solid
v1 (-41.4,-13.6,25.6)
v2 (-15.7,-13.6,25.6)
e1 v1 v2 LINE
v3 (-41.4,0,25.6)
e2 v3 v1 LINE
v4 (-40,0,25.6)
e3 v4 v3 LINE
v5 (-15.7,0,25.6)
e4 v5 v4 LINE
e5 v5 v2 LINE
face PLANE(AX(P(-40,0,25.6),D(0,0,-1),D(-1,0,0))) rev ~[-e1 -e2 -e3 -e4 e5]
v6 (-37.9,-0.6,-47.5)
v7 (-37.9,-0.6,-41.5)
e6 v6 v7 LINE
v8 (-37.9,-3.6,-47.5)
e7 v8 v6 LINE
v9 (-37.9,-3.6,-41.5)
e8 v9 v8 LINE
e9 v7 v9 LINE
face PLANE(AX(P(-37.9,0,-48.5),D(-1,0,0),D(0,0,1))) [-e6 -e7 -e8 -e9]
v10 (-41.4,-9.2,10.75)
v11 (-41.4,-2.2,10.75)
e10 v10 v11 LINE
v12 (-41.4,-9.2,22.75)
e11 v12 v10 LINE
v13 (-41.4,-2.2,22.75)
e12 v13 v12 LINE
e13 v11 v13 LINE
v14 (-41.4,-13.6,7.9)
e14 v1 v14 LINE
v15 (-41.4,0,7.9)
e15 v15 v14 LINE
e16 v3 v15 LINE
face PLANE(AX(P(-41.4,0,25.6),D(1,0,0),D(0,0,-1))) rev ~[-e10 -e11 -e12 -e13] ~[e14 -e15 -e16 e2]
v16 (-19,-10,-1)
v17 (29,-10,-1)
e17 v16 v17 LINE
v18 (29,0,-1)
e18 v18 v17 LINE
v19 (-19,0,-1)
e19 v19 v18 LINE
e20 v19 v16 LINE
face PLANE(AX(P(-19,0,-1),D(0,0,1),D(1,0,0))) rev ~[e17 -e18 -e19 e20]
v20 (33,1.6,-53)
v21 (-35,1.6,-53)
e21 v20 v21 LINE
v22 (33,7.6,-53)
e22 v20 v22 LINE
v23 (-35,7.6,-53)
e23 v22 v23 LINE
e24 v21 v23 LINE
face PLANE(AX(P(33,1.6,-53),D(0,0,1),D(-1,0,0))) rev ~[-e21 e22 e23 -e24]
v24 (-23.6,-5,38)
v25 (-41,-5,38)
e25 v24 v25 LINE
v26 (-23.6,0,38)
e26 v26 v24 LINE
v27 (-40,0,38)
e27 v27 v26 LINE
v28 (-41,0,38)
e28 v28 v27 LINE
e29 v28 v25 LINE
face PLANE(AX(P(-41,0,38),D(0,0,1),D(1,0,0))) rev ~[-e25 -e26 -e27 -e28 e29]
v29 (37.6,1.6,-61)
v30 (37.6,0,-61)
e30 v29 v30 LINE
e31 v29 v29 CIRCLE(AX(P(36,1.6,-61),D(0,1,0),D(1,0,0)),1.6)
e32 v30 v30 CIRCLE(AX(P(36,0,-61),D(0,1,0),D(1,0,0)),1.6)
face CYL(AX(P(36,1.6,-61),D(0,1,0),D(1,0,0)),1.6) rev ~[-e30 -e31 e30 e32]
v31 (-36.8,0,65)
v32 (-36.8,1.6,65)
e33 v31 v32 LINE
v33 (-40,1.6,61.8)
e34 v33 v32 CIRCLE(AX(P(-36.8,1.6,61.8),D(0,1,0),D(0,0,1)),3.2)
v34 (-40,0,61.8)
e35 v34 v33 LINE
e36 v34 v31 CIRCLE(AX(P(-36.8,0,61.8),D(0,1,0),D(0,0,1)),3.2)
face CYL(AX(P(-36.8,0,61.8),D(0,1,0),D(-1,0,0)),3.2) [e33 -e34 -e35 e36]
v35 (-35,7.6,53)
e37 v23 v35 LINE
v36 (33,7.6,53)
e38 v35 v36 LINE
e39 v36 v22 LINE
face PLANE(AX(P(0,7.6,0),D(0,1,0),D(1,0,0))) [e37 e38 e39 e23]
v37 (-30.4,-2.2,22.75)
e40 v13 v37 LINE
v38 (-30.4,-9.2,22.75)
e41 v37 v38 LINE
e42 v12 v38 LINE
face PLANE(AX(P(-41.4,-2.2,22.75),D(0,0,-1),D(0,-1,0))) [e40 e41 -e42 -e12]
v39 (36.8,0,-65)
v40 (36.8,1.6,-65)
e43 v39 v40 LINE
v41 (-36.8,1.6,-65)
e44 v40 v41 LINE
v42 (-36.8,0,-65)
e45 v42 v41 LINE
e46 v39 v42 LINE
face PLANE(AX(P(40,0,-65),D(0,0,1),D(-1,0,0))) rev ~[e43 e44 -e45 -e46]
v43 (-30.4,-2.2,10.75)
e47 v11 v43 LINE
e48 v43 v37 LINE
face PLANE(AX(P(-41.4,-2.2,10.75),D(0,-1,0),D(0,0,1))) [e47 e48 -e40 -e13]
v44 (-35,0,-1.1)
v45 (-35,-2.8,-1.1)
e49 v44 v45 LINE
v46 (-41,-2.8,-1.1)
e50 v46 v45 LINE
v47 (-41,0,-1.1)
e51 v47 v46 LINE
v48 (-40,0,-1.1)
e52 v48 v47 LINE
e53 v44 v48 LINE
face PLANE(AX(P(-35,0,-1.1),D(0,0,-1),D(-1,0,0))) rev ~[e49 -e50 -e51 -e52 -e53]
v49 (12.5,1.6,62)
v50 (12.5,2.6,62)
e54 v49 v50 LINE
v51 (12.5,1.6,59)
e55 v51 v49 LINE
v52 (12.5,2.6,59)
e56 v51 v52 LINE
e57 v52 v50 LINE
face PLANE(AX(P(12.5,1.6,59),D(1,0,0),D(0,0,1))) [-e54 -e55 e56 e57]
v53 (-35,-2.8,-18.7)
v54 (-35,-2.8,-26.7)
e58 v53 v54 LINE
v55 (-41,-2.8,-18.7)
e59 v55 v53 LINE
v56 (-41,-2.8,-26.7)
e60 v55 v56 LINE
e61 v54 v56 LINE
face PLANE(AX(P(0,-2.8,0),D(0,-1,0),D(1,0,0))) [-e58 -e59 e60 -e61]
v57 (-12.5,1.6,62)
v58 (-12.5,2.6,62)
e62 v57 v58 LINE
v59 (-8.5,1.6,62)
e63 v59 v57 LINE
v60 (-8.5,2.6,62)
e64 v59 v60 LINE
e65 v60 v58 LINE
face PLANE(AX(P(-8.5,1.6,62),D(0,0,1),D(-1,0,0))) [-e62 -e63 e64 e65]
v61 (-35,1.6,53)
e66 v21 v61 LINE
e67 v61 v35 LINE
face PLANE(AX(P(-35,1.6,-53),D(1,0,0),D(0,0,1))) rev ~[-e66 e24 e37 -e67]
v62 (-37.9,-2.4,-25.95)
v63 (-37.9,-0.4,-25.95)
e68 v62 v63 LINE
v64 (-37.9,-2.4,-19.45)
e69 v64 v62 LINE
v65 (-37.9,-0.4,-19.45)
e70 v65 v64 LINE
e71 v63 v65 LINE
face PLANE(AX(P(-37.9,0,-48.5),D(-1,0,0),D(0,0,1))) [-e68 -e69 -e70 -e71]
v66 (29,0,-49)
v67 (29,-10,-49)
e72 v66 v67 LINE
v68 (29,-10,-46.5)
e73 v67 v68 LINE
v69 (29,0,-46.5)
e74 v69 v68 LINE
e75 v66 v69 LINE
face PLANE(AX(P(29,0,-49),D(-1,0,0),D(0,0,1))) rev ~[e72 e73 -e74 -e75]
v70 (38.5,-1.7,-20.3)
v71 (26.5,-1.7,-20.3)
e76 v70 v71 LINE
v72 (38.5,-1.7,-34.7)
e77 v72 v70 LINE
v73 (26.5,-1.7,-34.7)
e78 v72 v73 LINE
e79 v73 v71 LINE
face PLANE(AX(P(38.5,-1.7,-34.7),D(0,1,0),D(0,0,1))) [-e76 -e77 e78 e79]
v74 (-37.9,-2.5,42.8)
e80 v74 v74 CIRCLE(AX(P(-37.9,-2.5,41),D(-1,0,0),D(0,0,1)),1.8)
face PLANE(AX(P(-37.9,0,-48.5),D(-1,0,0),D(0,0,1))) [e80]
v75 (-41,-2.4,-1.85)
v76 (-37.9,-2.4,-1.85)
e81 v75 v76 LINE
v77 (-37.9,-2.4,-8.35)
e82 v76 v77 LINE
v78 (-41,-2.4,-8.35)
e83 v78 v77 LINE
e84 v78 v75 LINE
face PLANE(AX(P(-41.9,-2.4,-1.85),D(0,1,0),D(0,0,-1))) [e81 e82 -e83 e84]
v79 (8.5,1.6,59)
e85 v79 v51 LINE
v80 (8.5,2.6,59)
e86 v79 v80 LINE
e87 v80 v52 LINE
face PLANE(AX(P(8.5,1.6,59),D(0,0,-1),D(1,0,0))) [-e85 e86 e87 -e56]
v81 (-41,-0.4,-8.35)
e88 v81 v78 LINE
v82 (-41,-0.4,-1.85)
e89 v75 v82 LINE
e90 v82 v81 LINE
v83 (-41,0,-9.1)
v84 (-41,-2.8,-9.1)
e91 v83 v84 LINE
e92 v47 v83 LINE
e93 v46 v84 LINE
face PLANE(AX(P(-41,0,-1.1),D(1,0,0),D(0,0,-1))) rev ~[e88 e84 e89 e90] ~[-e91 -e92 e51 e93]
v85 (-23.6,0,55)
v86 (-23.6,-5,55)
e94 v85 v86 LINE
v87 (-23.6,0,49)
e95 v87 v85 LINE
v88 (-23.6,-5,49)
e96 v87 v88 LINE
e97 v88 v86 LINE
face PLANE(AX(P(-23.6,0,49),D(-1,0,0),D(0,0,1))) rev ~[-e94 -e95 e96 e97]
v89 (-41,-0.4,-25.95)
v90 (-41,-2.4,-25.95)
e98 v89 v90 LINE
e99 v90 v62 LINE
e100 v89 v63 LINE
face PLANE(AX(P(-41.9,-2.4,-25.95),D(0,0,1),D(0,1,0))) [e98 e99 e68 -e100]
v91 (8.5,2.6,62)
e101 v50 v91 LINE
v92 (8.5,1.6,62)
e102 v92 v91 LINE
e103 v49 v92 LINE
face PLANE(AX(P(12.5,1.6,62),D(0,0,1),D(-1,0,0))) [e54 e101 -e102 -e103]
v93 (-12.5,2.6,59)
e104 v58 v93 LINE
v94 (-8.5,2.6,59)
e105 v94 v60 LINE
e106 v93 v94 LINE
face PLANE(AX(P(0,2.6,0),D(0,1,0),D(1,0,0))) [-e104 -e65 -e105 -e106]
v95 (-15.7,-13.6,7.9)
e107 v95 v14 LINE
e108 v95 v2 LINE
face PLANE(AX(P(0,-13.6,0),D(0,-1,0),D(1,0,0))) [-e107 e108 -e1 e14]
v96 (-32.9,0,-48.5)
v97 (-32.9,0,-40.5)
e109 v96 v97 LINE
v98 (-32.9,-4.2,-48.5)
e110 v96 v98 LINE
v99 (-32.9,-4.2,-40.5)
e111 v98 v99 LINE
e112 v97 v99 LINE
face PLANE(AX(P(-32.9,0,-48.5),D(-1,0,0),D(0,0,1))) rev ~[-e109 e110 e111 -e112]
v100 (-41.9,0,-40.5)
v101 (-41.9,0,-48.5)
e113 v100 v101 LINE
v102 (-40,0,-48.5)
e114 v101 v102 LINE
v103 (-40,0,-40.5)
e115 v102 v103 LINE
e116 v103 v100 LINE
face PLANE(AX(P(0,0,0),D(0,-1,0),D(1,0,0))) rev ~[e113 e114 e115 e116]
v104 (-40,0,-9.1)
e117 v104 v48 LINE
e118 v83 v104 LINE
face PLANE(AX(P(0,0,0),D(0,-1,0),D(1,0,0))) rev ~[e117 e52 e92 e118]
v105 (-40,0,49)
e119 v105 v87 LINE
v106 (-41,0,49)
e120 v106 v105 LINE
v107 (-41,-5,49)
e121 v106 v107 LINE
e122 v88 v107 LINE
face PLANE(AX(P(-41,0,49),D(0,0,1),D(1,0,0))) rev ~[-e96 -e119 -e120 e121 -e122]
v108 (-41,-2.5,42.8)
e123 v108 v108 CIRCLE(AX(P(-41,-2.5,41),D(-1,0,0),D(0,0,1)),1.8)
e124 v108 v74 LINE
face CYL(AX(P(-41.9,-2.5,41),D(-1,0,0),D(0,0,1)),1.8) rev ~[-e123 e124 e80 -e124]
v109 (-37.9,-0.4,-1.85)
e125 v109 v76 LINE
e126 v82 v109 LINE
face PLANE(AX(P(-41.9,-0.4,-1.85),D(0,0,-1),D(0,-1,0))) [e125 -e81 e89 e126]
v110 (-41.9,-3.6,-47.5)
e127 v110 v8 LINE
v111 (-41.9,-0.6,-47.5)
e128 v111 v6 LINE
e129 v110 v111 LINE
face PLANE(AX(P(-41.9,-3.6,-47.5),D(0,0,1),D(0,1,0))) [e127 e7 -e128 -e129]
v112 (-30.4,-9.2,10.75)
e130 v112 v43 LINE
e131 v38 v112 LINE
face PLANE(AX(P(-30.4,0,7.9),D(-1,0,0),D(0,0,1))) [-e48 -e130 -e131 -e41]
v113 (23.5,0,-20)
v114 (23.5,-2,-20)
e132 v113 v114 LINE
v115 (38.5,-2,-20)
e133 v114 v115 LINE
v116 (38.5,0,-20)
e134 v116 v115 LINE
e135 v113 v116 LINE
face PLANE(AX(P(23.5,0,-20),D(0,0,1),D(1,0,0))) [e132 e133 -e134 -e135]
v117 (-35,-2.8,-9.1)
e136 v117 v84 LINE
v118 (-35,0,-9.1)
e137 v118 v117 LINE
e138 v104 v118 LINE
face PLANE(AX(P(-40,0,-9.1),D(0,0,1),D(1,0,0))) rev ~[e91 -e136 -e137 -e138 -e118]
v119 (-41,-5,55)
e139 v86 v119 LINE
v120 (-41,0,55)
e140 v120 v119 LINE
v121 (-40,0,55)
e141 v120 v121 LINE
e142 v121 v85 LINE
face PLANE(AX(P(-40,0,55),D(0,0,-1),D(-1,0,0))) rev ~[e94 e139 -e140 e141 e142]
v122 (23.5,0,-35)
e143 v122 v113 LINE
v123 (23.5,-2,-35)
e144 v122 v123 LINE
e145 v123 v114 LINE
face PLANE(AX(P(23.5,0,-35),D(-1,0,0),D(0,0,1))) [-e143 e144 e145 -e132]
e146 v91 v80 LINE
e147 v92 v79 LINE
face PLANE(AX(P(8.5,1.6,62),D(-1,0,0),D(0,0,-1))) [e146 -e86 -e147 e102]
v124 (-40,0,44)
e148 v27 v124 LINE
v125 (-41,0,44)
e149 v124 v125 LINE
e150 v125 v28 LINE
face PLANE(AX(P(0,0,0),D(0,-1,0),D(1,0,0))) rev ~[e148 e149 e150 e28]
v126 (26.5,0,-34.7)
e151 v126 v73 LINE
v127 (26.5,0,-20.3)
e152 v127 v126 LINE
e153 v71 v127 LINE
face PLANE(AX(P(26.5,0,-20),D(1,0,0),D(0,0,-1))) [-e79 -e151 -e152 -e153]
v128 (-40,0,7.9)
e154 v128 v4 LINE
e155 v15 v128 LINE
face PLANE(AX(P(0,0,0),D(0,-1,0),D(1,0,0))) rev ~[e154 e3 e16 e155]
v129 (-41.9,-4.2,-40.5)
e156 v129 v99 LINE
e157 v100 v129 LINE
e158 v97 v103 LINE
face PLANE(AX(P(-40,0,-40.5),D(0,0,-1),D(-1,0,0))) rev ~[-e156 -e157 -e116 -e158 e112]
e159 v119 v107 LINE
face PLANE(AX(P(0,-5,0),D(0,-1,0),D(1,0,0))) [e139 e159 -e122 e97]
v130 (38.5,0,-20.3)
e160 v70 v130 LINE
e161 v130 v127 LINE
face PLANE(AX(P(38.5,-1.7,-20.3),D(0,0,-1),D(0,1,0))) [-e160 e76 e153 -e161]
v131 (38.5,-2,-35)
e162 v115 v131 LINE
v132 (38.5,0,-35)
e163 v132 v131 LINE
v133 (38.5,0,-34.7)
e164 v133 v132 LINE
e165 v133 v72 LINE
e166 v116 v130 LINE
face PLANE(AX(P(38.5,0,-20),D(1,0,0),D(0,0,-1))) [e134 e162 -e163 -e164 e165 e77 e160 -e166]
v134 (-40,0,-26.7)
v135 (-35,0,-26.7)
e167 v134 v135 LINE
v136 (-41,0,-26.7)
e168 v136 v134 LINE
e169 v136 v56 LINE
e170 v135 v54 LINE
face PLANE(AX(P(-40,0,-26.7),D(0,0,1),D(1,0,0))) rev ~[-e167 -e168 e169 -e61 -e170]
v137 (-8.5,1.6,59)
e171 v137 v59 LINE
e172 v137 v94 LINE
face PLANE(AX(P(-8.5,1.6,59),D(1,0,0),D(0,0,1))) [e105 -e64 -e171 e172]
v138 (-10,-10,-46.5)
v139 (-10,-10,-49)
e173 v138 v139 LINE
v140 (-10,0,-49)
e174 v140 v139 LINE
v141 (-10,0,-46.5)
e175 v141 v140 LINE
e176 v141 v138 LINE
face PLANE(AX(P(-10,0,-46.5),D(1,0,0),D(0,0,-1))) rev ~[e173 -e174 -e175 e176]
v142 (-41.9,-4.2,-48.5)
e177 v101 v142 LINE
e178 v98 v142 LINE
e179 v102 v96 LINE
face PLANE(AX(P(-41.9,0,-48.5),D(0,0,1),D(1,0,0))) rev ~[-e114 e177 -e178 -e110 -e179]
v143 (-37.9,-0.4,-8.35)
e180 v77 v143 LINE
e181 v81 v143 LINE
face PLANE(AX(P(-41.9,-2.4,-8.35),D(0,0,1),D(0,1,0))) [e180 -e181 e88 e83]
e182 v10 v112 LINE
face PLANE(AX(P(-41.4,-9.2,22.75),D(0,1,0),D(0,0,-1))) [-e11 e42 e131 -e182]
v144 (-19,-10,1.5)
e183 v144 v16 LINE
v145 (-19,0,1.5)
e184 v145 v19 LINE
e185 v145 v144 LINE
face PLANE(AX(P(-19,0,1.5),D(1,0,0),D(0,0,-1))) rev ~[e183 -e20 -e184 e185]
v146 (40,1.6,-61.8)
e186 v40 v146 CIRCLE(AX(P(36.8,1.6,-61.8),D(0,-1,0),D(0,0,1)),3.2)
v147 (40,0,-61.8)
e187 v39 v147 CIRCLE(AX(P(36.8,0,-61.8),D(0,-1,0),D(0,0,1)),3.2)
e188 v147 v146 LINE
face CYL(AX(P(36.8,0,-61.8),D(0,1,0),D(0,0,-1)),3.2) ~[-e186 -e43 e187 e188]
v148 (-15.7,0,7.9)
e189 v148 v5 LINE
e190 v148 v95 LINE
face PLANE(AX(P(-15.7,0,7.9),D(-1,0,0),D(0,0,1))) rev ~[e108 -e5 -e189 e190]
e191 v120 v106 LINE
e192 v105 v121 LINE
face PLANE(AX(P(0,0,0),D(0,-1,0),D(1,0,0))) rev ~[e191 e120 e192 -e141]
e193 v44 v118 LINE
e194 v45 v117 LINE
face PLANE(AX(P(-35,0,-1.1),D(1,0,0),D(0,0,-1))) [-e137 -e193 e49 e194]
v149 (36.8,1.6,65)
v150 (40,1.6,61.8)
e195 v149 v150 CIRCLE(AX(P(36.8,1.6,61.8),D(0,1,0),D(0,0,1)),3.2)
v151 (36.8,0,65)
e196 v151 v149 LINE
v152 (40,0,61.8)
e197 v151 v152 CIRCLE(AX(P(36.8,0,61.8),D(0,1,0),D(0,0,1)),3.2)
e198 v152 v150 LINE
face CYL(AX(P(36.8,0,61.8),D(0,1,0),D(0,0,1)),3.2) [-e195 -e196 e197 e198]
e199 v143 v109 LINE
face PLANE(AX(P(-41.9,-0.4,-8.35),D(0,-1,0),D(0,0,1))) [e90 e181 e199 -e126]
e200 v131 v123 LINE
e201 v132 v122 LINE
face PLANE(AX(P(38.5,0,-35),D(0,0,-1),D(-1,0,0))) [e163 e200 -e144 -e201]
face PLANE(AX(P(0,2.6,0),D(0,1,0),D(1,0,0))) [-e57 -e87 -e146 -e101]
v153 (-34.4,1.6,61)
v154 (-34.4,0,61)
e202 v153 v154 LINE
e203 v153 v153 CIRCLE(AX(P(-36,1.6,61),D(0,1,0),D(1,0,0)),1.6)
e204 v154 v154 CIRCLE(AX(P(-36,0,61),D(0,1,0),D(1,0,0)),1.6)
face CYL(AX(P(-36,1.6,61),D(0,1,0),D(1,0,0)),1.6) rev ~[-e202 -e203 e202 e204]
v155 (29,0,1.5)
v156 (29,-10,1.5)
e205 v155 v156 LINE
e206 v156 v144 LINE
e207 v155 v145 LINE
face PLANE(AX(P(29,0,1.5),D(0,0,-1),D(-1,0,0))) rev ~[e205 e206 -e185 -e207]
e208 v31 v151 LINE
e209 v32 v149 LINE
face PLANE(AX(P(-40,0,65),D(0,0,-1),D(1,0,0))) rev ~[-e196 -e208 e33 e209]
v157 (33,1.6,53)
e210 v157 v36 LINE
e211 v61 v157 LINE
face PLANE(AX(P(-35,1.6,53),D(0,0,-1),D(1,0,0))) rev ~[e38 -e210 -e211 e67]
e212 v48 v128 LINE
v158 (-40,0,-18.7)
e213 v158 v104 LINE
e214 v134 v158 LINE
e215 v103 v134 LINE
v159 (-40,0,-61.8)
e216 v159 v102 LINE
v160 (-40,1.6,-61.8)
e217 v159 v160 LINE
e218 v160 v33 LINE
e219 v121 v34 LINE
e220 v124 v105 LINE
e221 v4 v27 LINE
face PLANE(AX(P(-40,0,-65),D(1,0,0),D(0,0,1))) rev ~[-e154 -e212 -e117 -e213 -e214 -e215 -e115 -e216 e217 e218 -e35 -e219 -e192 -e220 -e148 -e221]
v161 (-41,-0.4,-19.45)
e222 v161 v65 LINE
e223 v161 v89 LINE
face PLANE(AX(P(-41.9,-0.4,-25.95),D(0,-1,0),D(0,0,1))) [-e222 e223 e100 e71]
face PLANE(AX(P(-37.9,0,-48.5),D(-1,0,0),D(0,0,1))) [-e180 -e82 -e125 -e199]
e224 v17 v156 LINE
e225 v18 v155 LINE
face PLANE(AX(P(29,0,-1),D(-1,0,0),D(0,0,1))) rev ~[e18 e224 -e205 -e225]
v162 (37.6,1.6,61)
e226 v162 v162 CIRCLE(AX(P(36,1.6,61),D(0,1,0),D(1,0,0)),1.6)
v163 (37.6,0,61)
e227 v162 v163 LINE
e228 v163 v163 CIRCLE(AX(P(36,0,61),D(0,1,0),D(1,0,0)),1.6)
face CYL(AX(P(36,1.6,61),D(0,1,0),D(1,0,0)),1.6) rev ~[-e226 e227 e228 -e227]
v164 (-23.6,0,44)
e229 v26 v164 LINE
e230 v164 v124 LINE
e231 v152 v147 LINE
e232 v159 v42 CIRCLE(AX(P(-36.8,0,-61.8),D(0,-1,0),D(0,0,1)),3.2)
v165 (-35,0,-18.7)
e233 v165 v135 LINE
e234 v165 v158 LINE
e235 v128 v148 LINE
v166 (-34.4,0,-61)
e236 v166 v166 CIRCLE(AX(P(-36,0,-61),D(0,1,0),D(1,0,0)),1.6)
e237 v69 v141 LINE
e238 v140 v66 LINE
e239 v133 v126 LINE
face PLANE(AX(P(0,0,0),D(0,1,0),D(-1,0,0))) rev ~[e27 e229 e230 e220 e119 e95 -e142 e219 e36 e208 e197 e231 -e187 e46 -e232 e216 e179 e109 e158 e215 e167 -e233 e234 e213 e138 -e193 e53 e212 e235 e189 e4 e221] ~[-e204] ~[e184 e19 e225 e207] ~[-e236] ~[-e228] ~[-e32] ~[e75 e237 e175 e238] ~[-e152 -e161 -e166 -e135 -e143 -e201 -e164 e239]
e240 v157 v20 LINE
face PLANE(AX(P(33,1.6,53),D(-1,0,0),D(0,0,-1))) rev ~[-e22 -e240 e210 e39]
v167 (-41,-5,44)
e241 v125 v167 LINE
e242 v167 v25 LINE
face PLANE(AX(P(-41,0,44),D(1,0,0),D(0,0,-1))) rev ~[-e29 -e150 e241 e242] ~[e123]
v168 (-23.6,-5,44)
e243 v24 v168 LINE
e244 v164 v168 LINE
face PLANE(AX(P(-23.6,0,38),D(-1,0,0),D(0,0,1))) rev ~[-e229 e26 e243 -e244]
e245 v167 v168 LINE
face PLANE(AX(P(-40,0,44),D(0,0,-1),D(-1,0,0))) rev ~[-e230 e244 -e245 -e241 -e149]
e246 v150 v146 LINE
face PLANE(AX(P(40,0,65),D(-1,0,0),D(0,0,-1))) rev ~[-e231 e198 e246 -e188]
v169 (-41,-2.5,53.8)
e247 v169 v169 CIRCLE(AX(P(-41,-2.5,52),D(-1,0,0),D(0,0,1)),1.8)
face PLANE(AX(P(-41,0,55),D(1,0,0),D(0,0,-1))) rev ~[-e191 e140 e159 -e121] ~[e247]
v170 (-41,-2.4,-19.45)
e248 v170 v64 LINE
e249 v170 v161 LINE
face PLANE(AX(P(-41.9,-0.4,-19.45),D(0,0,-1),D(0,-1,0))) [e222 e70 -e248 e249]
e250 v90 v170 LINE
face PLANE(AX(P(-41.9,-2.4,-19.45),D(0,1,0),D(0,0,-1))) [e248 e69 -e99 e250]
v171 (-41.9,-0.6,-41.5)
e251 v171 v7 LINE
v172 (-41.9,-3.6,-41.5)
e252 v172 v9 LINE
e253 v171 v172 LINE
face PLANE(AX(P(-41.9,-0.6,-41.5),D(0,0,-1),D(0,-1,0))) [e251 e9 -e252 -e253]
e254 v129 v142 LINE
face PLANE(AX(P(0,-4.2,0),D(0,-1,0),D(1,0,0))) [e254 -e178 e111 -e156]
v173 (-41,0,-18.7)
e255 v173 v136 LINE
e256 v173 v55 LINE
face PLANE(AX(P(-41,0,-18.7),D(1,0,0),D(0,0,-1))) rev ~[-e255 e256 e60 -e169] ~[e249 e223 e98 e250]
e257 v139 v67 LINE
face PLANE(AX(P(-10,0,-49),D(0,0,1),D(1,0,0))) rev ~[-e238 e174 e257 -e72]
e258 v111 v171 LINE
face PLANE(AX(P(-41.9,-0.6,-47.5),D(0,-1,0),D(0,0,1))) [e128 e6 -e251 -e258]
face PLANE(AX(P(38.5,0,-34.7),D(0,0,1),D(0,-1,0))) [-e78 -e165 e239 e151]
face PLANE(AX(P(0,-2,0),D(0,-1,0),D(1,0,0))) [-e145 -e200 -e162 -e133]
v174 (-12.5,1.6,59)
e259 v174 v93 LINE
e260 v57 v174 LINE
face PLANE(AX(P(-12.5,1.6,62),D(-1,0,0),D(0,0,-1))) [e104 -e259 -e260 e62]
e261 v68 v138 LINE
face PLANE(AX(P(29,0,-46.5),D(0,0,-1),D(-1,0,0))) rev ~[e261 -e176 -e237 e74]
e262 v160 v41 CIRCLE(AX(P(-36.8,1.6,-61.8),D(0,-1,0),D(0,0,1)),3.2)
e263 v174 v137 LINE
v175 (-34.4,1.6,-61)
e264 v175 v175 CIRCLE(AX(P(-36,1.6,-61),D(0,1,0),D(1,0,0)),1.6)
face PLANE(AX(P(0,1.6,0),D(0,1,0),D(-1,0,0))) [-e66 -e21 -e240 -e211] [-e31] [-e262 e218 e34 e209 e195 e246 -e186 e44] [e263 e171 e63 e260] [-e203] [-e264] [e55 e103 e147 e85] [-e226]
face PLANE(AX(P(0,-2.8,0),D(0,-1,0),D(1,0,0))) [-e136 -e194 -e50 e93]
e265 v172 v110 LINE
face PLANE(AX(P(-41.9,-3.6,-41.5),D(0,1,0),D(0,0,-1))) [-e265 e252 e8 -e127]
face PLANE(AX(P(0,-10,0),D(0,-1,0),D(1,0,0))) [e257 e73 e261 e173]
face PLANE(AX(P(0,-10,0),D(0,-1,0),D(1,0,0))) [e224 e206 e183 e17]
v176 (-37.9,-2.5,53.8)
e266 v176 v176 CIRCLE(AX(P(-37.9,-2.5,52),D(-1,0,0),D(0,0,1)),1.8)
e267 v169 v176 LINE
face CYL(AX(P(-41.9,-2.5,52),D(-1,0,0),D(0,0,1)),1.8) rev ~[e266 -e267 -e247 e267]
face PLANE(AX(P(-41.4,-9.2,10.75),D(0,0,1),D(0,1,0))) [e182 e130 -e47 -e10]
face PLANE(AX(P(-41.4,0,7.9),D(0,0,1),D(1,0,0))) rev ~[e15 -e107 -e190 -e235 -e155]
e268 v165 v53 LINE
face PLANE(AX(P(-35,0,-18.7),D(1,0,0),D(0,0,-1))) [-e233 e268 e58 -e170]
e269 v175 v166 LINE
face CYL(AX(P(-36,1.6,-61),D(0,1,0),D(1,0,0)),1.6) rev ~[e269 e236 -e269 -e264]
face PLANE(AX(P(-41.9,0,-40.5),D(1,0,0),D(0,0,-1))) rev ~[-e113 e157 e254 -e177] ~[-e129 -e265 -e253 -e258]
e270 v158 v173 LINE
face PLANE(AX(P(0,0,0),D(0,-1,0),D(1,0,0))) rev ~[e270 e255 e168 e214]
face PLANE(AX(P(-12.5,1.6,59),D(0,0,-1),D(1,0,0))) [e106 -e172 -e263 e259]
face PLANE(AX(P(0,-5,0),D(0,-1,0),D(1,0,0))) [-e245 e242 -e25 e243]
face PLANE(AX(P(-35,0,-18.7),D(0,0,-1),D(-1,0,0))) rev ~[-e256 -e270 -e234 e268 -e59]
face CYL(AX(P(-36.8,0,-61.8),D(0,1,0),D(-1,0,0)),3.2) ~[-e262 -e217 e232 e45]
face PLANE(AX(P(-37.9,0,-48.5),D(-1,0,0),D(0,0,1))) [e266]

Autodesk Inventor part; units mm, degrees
ref_plane "YZ Plane" through (0, 0, 0) normal (1, 0, 0) x (0, 1, 0)
ref_plane "XZ Plane" through (0, 0, 0) normal (0, 1, 0) x (-1, 0, 0)
ref_plane "XY Plane" through (0, 0, 0) normal (0, 0, 1) x (1, 0, 0)
sketch "Esquisse1" plane through (0, 0, 0) normal (0, 1, 0) x (-1, 0, 0)
  line L0 (40, 65) -> (-40, 65)
  line L1 (-40, 65) -> (-40, -65)
  line L2 (-40, -65) -> (40, -65)
  line L3 (40, -65) -> (40, 65)
  point P0 (0, 0)
  dimension "d0" = 130
  dimension "d1" = 80
  dimension "d2" = 40
  dimension "d3" = 65
extrude "Extrusion1" add sketch "Esquisse1" along normal blind 1.6
sketch "Esquisse2" plane through (0, 1.6, 0) normal (0, 1, 0) x (1, 0, 0)
  circle A0 centre (-36, -61) radius 1.6
  circle A1 centre (-36, 61) radius 1.6
  circle A2 centre (36, 61) radius 1.6
  circle A3 centre (36, -61) radius 1.6
  point P0 (0, 0)
  dimension "d6" = 3.2
  dimension "d7" = 3.2
  dimension "d8" = 3.2
  dimension "d9" = 3.2
  dimension "d10" = 122
  dimension "d11" = 122
  dimension "d12" = 72
  dimension "d13" = 72
  dimension "d14" = 61
  dimension "d15" = 36
  dimension "d16" = 36
  dimension "d17" = 61
extrude "Extrusion2" cut sketch "Esquisse2" against normal blind 1.6
fillet "Congé1" radius 3.2 4 edges at (-40, 0.8, 65) (40, 0.8, 65) (40, 0.8, -65) (-40, 0.8, -65)
sketch "Esquisse3" plane through (0, 1.6, 0) normal (0, 1, 0) x (1, 0, 0)
  line L0 (-35, -53) -> (33, -53)
  line L1 (33, -53) -> (33, 53)
  line L2 (33, 53) -> (-35, 53)
  line L3 (-35, 53) -> (-35, -53)
  line L4 (40, -61.8) -> (40, 61.8) projected
  line L5 (36.8, 65) -> (-36.8, 65) projected
  point P0 (0, 0)
  dimension "d21" = 106
  dimension "d22" = 68
  dimension "d23" = 7
  dimension "d24" = 12
extrude "Extrusion3" add sketch "Esquisse3" along normal blind 6
sketch "Esquisse4" plane through (0, 1.6, 0) normal (0, 1, 0) x (1, 0, 0)
  line L0 (-12.5, -59) -> (-8.5, -59)
  line L1 (-8.5, -59) -> (-8.5, -62)
  line L2 (-8.5, -62) -> (-12.5, -62)
  line L3 (-12.5, -62) -> (-12.5, -59)
  line L4 (8.5, -59) -> (12.5, -59)
  line L5 (12.5, -59) -> (12.5, -62)
  line L6 (12.5, -62) -> (8.5, -62)
  line L7 (8.5, -62) -> (8.5, -59)
  line L8 (-36.8, -65) -> (36.8, -65) projected
  line L9 (40, -61.8) -> (40, 61.8) projected
  point P0 (0, 0)
  dimension "d27" = 4
  dimension "d28" = 3
  dimension "d29" = 6
  dimension "d30" = 6
  dimension "d31" = 4
  dimension "d32" = 17
  dimension "d33" = 27.5
extrude "Extrusion4" add sketch "Esquisse4" along normal blind 1
sketch "Esquisse5" plane through (0, 0, 0) normal (0, -1, 0) x (1, 0, 0)
  line L0 (-41.9, -48.5) -> (-32.9, -48.5)
  line L1 (-32.9, -48.5) -> (-32.9, -40.5)
  line L2 (-32.9, -40.5) -> (-41.9, -40.5)
  line L3 (-41.9, -40.5) -> (-41.9, -48.5)
  line L4 (36.8, -65) -> (-36.8, -65) projected
  line L5 (-40, -61.8) -> (-40, 61.8) projected
  point P0 (0, 0)
  dimension "d36" = 8
  dimension "d37" = 9
  dimension "d38" = 16.5
  dimension "d39" = 1.9
extrude "Extrusion5" add sketch "Esquisse5" along normal blind 4.2
sketch "Esquisse6" plane through (0, 0, 0) normal (0, -1, 0) x (1, 0, 0)
  line L0 (-35, 53) -> (-35, -53) projected
  line L1 (-41, -26.7) -> (-35, -26.7)
  line L2 (-35, -26.7) -> (-35, -18.7)
  line L3 (-35, -18.7) -> (-41, -18.7)
  line L4 (-41, -18.7) -> (-41, -26.7)
  line L5 (-41, -9.1) -> (-35, -9.1)
  line L6 (-35, -9.1) -> (-35, -1.1)
  line L7 (-35, -1.1) -> (-41, -1.1)
  line L8 (-41, -1.1) -> (-41, -9.1)
  line L9 (-32.9, -40.5) -> (-41.9, -40.5) projected
  line L10 (-40, -61.8) -> (-40, 61.8) projected
  point P0 (0, 0)
  dimension "d42" = 8
  dimension "d43" = 8
  dimension "d44" = 6
  dimension "d45" = 13.8
  dimension "d46" = 9.6
  dimension "d47" = 1
extrude "Extrusion6" add sketch "Esquisse6" along normal blind 2.8 contours L0 L5 L10 L7 | L10 L5 L8 L7 | L0 L1 L10 L3 | L10 L1 L4 L3
sketch "Esquisse7" plane through (0, 0, 0) normal (0, -1, 0) x (1, 0, 0)
  line L0 (-41.4, 7.9) -> (-15.7, 7.9)
  line L1 (-15.7, 7.9) -> (-15.7, 25.6)
  line L2 (-15.7, 25.6) -> (-41.4, 25.6)
  line L3 (-41.4, 25.6) -> (-41.4, 7.9)
  line L4 (-35, -1.1) -> (-41, -1.1) projected
  line L5 (-40, -1.1) -> (-40, 61.8) projected
  point P0 (0, 0)
  dimension "d50" = 25.7
  dimension "d51" = 17.7
  dimension "d52" = 9
  dimension "d53" = 1.4
extrude "Extrusion7" add sketch "Esquisse7" along normal blind 13.6
sketch "Esquisse8" plane through (0, 0, 0) normal (0, -1, 0) x (1, 0, 0)
  line L0 (-41, 38) -> (-23.6, 38)
  line L1 (-23.6, 38) -> (-23.6, 44)
  line L2 (-23.6, 44) -> (-41, 44)
  line L3 (-41, 44) -> (-41, 38)
  line L4 (-41, 49) -> (-23.6, 49)
  line L5 (-23.6, 49) -> (-23.6, 55)
  line L6 (-23.6, 55) -> (-41, 55)
  line L7 (-41, 55) -> (-41, 49)
  line L8 (-15.7, 25.6) -> (-41.4, 25.6) projected
  line L9 (-40, 25.6) -> (-40, 61.8) projected
  point P0 (0, 0)
  dimension "d56" = 6
  dimension "d57" = 6
  dimension "d58" = 17.4
  dimension "d59" = 5
  dimension "d60" = 12.4
  dimension "d61" = 1
extrude "Extrusion8" add sketch "Esquisse8" along normal blind 5
sketch "Esquisse9" plane through (-41.4, 0, 7.9) normal (-1, 0, 0) x (0, 0, 1)
  line L0 (2.85, -2.2) -> (14.85, -2.2)
  line L1 (14.85, -2.2) -> (14.85, -9.2)
  line L2 (14.85, -9.2) -> (2.85, -9.2)
  line L3 (2.85, -9.2) -> (2.85, -2.2)
  line L4 (17.7, 0) -> (0, 0) projected
  line L5 (17.7, 0) -> (17.7, -13.6) projected
  line L6 (0, 0) -> (0, -13.6) projected
  point P0 (-7.9, 0)
  dimension "d64" = 12
  dimension "d65" = 7
  dimension "d66" = 2.2
  dimension "d67" = 17.7
  dimension "d68" = 2.85
extrude "Extrusion9" cut sketch "Esquisse9" against normal blind 11
sketch "Esquisse10" plane through (-41.9, 0, -48.5) normal (-1, 0, 0) x (0, 0, 1)
  line L0 (1, -0.6) -> (7, -0.6)
  line L1 (7, -0.6) -> (7, -3.6)
  line L2 (7, -3.6) -> (1, -3.6)
  line L3 (1, -3.6) -> (1, -0.6)
  line L4 (22.55, -0.4) -> (29.05, -0.4)
  line L5 (29.05, -0.4) -> (29.05, -2.4)
  line L6 (29.05, -2.4) -> (22.55, -2.4)
  line L7 (22.55, -2.4) -> (22.55, -0.4)
  line L8 (40.15, -0.4) -> (46.65, -0.4)
  line L9 (46.65, -0.4) -> (46.65, -2.4)
  line L10 (46.65, -2.4) -> (40.15, -2.4)
  line L11 (40.15, -2.4) -> (40.15, -0.4)
  circle A0 centre (89.5, -2.5) radius 1.8
  circle A1 centre (100.5, -2.5) radius 1.8
  line L12 (8, 0) -> (0, 0) projected
  line L13 (8, -4.2) -> (0, -4.2) projected
  line L14 (8, 0) -> (8, -4.2) projected
  line L15 (0, 0) -> (0, -4.2) projected
  line L16 (29.8, 0) -> (21.8, 0) projected
  line L17 (29.8, -2.8) -> (21.8, -2.8) projected
  line L18 (29.8, 0) -> (29.8, -2.8) projected
  line L19 (21.8, 0) -> (21.8, -2.8) projected
  line L20 (47.4, 0) -> (47.4, -2.8) projected
  line L21 (39.4, 0) -> (39.4, -2.8) projected
  line L22 (92.5, 0) -> (92.5, -5) projected
  line L23 (86.5, 0) -> (86.5, -5) projected
  line L24 (92.5, 0) -> (86.5, 0) projected
  line L25 (92.5, -5) -> (86.5, -5) projected
  line L26 (97.5, 0) -> (97.5, -5) projected
  point P0 (48.5, 0)
  dimension "d71" = 3
  dimension "d72" = 2
  dimension "d73" = 2
  dimension "d74" = 6
  dimension "d75" = 6.5
  dimension "d76" = 6.5
  dimension "d77" = 4.2
  dimension "d78" = 8
  dimension "d79" = 2.8
  dimension "d80" = 8
  dimension "d81" = 8
  dimension "d82" = 1
  dimension "d83" = 0.6
  dimension "d84" = 0.75
  dimension "d86" = 0.4
  dimension "d87" = 0.75
  dimension "d88" = 6
  dimension "d89" = 5
  dimension "d90" = 3
  dimension "d91" = 2.5
  dimension "d92" = 3
  dimension "d93" = 2.5
  dimension "d94" = 3.6
  dimension "d95" = 3.6
extrude "Extrusion10" cut sketch "Esquisse10" against normal blind 4 contours L0 L1 L2 L3 | L4 L5 L6 L7 | L8 L9 L10 L11 | A0 | A1
sketch "Esquisse11" plane through (0, 0, 0) normal (0, -1, 0) x (1, 0, 0)
  line L0 (38.5, -35) -> (23.5, -35)
  line L1 (23.5, -35) -> (23.5, -20)
  line L2 (23.5, -20) -> (38.5, -20)
  line L3 (38.5, -20) -> (38.5, -35)
  line L4 (40, 61.8) -> (40, -61.8) projected
  line L5 (36.8, -65) -> (-36.8, -65) projected
  point P0 (0, 0)
  dimension "d98" = 15
  dimension "d99" = 15
  dimension "d100" = 1.5
  dimension "d101" = 30
extrude "Extrusion11" add sketch "Esquisse11" along normal blind 2
sketch "Esquisse13" plane through (38.5, 0, -20) normal (1, 0, 0) x (0, 0, -1)
  line L0 (-1.3, 0) -> (6.7, 0) projected
  line L1 (14.7, -1.7) -> (0.3, -1.7)
  line L2 (0.3, -1.7) -> (0.3, 0)
  line L3 (0.3, 0) -> (14.7, 0)
  line L4 (14.7, 0) -> (14.7, -1.7)
  line L5 (0, 0) -> (0, -2) projected
  line L6 (15, 0) -> (15, -2) projected
  point P0 (-20, 0)
  dimension "d104" = 0.3
  dimension "d106" = 0.3
  dimension "d107" = 0.3
extrude "Extrusion12" cut sketch "Esquisse13" against normal blind 12
sketch "Esquisse14" plane through (0, 0, 0) normal (0, -1, 0) x (1, 0, 0)
  line L0 (-10, -49) -> (29, -49)
  line L1 (29, -49) -> (29, -46.5)
  line L2 (29, -46.5) -> (-10, -46.5)
  line L3 (-10, -46.5) -> (-10, -49)
  line L4 (-19, -1) -> (29, -1)
  line L5 (29, -1) -> (29, 1.5)
  line L6 (29, 1.5) -> (-19, 1.5)
  line L7 (-19, 1.5) -> (-19, -1)
  line L8 (40, 61.8) -> (40, -61.8) projected
  line L9 (36.8, -65) -> (-36.8, -65) projected
  point P0 (0, 0)
  dimension "d110" = 2.5
  dimension "d111" = 2.5
  dimension "d112" = 39
  dimension "d113" = 48
  dimension "d114" = 11
  dimension "d115" = 16
  dimension "d116" = 64
extrude "Extrusion13" add sketch "Esquisse14" along normal blind 10
equation "\"d2\" = 0.5 * d1"
equation "\"d3\" = 0.5 * d0"
equation "\"d14\" = 0.5 * d10"
equation "\"d15\" = 0.5 * d12"
equation "\"d16\" = 0.5 * d12"
equation "\"d17\" = 0.5 * d11"
equation "\"d31\" = d27"
equation "\"d43\" = d42"
equation "\"d57\" = d56"
equation "\"d68\" = -0.5 * d64 + 0.5 * d67"
equation "\"d82\" = -0.5 * d74 + 0.5 * d78"
equation "\"d83\" = -0.5 * d71 + 0.5 * d77"
equation "\"d84\" = -0.5 * d75 + 0.5 * d80"
equation "\"d86\" = -0.5 * d72 + 0.5 * d79"
equation "\"d87\" = -0.5 * d76 + 0.5 * d81"
equation "\"d90\" = 0.5 * d88"
equation "\"d91\" = 0.5 * d89"
equation "\"d92\" = d90"
equation "\"d93\" = d91"
equation "\"d95\" = d94"
equation "\"d106\" = d104"
equation "\"d107\" = d104"
equation "\"d111\" = d110"
properties part number "STM32F746G-Disco"
